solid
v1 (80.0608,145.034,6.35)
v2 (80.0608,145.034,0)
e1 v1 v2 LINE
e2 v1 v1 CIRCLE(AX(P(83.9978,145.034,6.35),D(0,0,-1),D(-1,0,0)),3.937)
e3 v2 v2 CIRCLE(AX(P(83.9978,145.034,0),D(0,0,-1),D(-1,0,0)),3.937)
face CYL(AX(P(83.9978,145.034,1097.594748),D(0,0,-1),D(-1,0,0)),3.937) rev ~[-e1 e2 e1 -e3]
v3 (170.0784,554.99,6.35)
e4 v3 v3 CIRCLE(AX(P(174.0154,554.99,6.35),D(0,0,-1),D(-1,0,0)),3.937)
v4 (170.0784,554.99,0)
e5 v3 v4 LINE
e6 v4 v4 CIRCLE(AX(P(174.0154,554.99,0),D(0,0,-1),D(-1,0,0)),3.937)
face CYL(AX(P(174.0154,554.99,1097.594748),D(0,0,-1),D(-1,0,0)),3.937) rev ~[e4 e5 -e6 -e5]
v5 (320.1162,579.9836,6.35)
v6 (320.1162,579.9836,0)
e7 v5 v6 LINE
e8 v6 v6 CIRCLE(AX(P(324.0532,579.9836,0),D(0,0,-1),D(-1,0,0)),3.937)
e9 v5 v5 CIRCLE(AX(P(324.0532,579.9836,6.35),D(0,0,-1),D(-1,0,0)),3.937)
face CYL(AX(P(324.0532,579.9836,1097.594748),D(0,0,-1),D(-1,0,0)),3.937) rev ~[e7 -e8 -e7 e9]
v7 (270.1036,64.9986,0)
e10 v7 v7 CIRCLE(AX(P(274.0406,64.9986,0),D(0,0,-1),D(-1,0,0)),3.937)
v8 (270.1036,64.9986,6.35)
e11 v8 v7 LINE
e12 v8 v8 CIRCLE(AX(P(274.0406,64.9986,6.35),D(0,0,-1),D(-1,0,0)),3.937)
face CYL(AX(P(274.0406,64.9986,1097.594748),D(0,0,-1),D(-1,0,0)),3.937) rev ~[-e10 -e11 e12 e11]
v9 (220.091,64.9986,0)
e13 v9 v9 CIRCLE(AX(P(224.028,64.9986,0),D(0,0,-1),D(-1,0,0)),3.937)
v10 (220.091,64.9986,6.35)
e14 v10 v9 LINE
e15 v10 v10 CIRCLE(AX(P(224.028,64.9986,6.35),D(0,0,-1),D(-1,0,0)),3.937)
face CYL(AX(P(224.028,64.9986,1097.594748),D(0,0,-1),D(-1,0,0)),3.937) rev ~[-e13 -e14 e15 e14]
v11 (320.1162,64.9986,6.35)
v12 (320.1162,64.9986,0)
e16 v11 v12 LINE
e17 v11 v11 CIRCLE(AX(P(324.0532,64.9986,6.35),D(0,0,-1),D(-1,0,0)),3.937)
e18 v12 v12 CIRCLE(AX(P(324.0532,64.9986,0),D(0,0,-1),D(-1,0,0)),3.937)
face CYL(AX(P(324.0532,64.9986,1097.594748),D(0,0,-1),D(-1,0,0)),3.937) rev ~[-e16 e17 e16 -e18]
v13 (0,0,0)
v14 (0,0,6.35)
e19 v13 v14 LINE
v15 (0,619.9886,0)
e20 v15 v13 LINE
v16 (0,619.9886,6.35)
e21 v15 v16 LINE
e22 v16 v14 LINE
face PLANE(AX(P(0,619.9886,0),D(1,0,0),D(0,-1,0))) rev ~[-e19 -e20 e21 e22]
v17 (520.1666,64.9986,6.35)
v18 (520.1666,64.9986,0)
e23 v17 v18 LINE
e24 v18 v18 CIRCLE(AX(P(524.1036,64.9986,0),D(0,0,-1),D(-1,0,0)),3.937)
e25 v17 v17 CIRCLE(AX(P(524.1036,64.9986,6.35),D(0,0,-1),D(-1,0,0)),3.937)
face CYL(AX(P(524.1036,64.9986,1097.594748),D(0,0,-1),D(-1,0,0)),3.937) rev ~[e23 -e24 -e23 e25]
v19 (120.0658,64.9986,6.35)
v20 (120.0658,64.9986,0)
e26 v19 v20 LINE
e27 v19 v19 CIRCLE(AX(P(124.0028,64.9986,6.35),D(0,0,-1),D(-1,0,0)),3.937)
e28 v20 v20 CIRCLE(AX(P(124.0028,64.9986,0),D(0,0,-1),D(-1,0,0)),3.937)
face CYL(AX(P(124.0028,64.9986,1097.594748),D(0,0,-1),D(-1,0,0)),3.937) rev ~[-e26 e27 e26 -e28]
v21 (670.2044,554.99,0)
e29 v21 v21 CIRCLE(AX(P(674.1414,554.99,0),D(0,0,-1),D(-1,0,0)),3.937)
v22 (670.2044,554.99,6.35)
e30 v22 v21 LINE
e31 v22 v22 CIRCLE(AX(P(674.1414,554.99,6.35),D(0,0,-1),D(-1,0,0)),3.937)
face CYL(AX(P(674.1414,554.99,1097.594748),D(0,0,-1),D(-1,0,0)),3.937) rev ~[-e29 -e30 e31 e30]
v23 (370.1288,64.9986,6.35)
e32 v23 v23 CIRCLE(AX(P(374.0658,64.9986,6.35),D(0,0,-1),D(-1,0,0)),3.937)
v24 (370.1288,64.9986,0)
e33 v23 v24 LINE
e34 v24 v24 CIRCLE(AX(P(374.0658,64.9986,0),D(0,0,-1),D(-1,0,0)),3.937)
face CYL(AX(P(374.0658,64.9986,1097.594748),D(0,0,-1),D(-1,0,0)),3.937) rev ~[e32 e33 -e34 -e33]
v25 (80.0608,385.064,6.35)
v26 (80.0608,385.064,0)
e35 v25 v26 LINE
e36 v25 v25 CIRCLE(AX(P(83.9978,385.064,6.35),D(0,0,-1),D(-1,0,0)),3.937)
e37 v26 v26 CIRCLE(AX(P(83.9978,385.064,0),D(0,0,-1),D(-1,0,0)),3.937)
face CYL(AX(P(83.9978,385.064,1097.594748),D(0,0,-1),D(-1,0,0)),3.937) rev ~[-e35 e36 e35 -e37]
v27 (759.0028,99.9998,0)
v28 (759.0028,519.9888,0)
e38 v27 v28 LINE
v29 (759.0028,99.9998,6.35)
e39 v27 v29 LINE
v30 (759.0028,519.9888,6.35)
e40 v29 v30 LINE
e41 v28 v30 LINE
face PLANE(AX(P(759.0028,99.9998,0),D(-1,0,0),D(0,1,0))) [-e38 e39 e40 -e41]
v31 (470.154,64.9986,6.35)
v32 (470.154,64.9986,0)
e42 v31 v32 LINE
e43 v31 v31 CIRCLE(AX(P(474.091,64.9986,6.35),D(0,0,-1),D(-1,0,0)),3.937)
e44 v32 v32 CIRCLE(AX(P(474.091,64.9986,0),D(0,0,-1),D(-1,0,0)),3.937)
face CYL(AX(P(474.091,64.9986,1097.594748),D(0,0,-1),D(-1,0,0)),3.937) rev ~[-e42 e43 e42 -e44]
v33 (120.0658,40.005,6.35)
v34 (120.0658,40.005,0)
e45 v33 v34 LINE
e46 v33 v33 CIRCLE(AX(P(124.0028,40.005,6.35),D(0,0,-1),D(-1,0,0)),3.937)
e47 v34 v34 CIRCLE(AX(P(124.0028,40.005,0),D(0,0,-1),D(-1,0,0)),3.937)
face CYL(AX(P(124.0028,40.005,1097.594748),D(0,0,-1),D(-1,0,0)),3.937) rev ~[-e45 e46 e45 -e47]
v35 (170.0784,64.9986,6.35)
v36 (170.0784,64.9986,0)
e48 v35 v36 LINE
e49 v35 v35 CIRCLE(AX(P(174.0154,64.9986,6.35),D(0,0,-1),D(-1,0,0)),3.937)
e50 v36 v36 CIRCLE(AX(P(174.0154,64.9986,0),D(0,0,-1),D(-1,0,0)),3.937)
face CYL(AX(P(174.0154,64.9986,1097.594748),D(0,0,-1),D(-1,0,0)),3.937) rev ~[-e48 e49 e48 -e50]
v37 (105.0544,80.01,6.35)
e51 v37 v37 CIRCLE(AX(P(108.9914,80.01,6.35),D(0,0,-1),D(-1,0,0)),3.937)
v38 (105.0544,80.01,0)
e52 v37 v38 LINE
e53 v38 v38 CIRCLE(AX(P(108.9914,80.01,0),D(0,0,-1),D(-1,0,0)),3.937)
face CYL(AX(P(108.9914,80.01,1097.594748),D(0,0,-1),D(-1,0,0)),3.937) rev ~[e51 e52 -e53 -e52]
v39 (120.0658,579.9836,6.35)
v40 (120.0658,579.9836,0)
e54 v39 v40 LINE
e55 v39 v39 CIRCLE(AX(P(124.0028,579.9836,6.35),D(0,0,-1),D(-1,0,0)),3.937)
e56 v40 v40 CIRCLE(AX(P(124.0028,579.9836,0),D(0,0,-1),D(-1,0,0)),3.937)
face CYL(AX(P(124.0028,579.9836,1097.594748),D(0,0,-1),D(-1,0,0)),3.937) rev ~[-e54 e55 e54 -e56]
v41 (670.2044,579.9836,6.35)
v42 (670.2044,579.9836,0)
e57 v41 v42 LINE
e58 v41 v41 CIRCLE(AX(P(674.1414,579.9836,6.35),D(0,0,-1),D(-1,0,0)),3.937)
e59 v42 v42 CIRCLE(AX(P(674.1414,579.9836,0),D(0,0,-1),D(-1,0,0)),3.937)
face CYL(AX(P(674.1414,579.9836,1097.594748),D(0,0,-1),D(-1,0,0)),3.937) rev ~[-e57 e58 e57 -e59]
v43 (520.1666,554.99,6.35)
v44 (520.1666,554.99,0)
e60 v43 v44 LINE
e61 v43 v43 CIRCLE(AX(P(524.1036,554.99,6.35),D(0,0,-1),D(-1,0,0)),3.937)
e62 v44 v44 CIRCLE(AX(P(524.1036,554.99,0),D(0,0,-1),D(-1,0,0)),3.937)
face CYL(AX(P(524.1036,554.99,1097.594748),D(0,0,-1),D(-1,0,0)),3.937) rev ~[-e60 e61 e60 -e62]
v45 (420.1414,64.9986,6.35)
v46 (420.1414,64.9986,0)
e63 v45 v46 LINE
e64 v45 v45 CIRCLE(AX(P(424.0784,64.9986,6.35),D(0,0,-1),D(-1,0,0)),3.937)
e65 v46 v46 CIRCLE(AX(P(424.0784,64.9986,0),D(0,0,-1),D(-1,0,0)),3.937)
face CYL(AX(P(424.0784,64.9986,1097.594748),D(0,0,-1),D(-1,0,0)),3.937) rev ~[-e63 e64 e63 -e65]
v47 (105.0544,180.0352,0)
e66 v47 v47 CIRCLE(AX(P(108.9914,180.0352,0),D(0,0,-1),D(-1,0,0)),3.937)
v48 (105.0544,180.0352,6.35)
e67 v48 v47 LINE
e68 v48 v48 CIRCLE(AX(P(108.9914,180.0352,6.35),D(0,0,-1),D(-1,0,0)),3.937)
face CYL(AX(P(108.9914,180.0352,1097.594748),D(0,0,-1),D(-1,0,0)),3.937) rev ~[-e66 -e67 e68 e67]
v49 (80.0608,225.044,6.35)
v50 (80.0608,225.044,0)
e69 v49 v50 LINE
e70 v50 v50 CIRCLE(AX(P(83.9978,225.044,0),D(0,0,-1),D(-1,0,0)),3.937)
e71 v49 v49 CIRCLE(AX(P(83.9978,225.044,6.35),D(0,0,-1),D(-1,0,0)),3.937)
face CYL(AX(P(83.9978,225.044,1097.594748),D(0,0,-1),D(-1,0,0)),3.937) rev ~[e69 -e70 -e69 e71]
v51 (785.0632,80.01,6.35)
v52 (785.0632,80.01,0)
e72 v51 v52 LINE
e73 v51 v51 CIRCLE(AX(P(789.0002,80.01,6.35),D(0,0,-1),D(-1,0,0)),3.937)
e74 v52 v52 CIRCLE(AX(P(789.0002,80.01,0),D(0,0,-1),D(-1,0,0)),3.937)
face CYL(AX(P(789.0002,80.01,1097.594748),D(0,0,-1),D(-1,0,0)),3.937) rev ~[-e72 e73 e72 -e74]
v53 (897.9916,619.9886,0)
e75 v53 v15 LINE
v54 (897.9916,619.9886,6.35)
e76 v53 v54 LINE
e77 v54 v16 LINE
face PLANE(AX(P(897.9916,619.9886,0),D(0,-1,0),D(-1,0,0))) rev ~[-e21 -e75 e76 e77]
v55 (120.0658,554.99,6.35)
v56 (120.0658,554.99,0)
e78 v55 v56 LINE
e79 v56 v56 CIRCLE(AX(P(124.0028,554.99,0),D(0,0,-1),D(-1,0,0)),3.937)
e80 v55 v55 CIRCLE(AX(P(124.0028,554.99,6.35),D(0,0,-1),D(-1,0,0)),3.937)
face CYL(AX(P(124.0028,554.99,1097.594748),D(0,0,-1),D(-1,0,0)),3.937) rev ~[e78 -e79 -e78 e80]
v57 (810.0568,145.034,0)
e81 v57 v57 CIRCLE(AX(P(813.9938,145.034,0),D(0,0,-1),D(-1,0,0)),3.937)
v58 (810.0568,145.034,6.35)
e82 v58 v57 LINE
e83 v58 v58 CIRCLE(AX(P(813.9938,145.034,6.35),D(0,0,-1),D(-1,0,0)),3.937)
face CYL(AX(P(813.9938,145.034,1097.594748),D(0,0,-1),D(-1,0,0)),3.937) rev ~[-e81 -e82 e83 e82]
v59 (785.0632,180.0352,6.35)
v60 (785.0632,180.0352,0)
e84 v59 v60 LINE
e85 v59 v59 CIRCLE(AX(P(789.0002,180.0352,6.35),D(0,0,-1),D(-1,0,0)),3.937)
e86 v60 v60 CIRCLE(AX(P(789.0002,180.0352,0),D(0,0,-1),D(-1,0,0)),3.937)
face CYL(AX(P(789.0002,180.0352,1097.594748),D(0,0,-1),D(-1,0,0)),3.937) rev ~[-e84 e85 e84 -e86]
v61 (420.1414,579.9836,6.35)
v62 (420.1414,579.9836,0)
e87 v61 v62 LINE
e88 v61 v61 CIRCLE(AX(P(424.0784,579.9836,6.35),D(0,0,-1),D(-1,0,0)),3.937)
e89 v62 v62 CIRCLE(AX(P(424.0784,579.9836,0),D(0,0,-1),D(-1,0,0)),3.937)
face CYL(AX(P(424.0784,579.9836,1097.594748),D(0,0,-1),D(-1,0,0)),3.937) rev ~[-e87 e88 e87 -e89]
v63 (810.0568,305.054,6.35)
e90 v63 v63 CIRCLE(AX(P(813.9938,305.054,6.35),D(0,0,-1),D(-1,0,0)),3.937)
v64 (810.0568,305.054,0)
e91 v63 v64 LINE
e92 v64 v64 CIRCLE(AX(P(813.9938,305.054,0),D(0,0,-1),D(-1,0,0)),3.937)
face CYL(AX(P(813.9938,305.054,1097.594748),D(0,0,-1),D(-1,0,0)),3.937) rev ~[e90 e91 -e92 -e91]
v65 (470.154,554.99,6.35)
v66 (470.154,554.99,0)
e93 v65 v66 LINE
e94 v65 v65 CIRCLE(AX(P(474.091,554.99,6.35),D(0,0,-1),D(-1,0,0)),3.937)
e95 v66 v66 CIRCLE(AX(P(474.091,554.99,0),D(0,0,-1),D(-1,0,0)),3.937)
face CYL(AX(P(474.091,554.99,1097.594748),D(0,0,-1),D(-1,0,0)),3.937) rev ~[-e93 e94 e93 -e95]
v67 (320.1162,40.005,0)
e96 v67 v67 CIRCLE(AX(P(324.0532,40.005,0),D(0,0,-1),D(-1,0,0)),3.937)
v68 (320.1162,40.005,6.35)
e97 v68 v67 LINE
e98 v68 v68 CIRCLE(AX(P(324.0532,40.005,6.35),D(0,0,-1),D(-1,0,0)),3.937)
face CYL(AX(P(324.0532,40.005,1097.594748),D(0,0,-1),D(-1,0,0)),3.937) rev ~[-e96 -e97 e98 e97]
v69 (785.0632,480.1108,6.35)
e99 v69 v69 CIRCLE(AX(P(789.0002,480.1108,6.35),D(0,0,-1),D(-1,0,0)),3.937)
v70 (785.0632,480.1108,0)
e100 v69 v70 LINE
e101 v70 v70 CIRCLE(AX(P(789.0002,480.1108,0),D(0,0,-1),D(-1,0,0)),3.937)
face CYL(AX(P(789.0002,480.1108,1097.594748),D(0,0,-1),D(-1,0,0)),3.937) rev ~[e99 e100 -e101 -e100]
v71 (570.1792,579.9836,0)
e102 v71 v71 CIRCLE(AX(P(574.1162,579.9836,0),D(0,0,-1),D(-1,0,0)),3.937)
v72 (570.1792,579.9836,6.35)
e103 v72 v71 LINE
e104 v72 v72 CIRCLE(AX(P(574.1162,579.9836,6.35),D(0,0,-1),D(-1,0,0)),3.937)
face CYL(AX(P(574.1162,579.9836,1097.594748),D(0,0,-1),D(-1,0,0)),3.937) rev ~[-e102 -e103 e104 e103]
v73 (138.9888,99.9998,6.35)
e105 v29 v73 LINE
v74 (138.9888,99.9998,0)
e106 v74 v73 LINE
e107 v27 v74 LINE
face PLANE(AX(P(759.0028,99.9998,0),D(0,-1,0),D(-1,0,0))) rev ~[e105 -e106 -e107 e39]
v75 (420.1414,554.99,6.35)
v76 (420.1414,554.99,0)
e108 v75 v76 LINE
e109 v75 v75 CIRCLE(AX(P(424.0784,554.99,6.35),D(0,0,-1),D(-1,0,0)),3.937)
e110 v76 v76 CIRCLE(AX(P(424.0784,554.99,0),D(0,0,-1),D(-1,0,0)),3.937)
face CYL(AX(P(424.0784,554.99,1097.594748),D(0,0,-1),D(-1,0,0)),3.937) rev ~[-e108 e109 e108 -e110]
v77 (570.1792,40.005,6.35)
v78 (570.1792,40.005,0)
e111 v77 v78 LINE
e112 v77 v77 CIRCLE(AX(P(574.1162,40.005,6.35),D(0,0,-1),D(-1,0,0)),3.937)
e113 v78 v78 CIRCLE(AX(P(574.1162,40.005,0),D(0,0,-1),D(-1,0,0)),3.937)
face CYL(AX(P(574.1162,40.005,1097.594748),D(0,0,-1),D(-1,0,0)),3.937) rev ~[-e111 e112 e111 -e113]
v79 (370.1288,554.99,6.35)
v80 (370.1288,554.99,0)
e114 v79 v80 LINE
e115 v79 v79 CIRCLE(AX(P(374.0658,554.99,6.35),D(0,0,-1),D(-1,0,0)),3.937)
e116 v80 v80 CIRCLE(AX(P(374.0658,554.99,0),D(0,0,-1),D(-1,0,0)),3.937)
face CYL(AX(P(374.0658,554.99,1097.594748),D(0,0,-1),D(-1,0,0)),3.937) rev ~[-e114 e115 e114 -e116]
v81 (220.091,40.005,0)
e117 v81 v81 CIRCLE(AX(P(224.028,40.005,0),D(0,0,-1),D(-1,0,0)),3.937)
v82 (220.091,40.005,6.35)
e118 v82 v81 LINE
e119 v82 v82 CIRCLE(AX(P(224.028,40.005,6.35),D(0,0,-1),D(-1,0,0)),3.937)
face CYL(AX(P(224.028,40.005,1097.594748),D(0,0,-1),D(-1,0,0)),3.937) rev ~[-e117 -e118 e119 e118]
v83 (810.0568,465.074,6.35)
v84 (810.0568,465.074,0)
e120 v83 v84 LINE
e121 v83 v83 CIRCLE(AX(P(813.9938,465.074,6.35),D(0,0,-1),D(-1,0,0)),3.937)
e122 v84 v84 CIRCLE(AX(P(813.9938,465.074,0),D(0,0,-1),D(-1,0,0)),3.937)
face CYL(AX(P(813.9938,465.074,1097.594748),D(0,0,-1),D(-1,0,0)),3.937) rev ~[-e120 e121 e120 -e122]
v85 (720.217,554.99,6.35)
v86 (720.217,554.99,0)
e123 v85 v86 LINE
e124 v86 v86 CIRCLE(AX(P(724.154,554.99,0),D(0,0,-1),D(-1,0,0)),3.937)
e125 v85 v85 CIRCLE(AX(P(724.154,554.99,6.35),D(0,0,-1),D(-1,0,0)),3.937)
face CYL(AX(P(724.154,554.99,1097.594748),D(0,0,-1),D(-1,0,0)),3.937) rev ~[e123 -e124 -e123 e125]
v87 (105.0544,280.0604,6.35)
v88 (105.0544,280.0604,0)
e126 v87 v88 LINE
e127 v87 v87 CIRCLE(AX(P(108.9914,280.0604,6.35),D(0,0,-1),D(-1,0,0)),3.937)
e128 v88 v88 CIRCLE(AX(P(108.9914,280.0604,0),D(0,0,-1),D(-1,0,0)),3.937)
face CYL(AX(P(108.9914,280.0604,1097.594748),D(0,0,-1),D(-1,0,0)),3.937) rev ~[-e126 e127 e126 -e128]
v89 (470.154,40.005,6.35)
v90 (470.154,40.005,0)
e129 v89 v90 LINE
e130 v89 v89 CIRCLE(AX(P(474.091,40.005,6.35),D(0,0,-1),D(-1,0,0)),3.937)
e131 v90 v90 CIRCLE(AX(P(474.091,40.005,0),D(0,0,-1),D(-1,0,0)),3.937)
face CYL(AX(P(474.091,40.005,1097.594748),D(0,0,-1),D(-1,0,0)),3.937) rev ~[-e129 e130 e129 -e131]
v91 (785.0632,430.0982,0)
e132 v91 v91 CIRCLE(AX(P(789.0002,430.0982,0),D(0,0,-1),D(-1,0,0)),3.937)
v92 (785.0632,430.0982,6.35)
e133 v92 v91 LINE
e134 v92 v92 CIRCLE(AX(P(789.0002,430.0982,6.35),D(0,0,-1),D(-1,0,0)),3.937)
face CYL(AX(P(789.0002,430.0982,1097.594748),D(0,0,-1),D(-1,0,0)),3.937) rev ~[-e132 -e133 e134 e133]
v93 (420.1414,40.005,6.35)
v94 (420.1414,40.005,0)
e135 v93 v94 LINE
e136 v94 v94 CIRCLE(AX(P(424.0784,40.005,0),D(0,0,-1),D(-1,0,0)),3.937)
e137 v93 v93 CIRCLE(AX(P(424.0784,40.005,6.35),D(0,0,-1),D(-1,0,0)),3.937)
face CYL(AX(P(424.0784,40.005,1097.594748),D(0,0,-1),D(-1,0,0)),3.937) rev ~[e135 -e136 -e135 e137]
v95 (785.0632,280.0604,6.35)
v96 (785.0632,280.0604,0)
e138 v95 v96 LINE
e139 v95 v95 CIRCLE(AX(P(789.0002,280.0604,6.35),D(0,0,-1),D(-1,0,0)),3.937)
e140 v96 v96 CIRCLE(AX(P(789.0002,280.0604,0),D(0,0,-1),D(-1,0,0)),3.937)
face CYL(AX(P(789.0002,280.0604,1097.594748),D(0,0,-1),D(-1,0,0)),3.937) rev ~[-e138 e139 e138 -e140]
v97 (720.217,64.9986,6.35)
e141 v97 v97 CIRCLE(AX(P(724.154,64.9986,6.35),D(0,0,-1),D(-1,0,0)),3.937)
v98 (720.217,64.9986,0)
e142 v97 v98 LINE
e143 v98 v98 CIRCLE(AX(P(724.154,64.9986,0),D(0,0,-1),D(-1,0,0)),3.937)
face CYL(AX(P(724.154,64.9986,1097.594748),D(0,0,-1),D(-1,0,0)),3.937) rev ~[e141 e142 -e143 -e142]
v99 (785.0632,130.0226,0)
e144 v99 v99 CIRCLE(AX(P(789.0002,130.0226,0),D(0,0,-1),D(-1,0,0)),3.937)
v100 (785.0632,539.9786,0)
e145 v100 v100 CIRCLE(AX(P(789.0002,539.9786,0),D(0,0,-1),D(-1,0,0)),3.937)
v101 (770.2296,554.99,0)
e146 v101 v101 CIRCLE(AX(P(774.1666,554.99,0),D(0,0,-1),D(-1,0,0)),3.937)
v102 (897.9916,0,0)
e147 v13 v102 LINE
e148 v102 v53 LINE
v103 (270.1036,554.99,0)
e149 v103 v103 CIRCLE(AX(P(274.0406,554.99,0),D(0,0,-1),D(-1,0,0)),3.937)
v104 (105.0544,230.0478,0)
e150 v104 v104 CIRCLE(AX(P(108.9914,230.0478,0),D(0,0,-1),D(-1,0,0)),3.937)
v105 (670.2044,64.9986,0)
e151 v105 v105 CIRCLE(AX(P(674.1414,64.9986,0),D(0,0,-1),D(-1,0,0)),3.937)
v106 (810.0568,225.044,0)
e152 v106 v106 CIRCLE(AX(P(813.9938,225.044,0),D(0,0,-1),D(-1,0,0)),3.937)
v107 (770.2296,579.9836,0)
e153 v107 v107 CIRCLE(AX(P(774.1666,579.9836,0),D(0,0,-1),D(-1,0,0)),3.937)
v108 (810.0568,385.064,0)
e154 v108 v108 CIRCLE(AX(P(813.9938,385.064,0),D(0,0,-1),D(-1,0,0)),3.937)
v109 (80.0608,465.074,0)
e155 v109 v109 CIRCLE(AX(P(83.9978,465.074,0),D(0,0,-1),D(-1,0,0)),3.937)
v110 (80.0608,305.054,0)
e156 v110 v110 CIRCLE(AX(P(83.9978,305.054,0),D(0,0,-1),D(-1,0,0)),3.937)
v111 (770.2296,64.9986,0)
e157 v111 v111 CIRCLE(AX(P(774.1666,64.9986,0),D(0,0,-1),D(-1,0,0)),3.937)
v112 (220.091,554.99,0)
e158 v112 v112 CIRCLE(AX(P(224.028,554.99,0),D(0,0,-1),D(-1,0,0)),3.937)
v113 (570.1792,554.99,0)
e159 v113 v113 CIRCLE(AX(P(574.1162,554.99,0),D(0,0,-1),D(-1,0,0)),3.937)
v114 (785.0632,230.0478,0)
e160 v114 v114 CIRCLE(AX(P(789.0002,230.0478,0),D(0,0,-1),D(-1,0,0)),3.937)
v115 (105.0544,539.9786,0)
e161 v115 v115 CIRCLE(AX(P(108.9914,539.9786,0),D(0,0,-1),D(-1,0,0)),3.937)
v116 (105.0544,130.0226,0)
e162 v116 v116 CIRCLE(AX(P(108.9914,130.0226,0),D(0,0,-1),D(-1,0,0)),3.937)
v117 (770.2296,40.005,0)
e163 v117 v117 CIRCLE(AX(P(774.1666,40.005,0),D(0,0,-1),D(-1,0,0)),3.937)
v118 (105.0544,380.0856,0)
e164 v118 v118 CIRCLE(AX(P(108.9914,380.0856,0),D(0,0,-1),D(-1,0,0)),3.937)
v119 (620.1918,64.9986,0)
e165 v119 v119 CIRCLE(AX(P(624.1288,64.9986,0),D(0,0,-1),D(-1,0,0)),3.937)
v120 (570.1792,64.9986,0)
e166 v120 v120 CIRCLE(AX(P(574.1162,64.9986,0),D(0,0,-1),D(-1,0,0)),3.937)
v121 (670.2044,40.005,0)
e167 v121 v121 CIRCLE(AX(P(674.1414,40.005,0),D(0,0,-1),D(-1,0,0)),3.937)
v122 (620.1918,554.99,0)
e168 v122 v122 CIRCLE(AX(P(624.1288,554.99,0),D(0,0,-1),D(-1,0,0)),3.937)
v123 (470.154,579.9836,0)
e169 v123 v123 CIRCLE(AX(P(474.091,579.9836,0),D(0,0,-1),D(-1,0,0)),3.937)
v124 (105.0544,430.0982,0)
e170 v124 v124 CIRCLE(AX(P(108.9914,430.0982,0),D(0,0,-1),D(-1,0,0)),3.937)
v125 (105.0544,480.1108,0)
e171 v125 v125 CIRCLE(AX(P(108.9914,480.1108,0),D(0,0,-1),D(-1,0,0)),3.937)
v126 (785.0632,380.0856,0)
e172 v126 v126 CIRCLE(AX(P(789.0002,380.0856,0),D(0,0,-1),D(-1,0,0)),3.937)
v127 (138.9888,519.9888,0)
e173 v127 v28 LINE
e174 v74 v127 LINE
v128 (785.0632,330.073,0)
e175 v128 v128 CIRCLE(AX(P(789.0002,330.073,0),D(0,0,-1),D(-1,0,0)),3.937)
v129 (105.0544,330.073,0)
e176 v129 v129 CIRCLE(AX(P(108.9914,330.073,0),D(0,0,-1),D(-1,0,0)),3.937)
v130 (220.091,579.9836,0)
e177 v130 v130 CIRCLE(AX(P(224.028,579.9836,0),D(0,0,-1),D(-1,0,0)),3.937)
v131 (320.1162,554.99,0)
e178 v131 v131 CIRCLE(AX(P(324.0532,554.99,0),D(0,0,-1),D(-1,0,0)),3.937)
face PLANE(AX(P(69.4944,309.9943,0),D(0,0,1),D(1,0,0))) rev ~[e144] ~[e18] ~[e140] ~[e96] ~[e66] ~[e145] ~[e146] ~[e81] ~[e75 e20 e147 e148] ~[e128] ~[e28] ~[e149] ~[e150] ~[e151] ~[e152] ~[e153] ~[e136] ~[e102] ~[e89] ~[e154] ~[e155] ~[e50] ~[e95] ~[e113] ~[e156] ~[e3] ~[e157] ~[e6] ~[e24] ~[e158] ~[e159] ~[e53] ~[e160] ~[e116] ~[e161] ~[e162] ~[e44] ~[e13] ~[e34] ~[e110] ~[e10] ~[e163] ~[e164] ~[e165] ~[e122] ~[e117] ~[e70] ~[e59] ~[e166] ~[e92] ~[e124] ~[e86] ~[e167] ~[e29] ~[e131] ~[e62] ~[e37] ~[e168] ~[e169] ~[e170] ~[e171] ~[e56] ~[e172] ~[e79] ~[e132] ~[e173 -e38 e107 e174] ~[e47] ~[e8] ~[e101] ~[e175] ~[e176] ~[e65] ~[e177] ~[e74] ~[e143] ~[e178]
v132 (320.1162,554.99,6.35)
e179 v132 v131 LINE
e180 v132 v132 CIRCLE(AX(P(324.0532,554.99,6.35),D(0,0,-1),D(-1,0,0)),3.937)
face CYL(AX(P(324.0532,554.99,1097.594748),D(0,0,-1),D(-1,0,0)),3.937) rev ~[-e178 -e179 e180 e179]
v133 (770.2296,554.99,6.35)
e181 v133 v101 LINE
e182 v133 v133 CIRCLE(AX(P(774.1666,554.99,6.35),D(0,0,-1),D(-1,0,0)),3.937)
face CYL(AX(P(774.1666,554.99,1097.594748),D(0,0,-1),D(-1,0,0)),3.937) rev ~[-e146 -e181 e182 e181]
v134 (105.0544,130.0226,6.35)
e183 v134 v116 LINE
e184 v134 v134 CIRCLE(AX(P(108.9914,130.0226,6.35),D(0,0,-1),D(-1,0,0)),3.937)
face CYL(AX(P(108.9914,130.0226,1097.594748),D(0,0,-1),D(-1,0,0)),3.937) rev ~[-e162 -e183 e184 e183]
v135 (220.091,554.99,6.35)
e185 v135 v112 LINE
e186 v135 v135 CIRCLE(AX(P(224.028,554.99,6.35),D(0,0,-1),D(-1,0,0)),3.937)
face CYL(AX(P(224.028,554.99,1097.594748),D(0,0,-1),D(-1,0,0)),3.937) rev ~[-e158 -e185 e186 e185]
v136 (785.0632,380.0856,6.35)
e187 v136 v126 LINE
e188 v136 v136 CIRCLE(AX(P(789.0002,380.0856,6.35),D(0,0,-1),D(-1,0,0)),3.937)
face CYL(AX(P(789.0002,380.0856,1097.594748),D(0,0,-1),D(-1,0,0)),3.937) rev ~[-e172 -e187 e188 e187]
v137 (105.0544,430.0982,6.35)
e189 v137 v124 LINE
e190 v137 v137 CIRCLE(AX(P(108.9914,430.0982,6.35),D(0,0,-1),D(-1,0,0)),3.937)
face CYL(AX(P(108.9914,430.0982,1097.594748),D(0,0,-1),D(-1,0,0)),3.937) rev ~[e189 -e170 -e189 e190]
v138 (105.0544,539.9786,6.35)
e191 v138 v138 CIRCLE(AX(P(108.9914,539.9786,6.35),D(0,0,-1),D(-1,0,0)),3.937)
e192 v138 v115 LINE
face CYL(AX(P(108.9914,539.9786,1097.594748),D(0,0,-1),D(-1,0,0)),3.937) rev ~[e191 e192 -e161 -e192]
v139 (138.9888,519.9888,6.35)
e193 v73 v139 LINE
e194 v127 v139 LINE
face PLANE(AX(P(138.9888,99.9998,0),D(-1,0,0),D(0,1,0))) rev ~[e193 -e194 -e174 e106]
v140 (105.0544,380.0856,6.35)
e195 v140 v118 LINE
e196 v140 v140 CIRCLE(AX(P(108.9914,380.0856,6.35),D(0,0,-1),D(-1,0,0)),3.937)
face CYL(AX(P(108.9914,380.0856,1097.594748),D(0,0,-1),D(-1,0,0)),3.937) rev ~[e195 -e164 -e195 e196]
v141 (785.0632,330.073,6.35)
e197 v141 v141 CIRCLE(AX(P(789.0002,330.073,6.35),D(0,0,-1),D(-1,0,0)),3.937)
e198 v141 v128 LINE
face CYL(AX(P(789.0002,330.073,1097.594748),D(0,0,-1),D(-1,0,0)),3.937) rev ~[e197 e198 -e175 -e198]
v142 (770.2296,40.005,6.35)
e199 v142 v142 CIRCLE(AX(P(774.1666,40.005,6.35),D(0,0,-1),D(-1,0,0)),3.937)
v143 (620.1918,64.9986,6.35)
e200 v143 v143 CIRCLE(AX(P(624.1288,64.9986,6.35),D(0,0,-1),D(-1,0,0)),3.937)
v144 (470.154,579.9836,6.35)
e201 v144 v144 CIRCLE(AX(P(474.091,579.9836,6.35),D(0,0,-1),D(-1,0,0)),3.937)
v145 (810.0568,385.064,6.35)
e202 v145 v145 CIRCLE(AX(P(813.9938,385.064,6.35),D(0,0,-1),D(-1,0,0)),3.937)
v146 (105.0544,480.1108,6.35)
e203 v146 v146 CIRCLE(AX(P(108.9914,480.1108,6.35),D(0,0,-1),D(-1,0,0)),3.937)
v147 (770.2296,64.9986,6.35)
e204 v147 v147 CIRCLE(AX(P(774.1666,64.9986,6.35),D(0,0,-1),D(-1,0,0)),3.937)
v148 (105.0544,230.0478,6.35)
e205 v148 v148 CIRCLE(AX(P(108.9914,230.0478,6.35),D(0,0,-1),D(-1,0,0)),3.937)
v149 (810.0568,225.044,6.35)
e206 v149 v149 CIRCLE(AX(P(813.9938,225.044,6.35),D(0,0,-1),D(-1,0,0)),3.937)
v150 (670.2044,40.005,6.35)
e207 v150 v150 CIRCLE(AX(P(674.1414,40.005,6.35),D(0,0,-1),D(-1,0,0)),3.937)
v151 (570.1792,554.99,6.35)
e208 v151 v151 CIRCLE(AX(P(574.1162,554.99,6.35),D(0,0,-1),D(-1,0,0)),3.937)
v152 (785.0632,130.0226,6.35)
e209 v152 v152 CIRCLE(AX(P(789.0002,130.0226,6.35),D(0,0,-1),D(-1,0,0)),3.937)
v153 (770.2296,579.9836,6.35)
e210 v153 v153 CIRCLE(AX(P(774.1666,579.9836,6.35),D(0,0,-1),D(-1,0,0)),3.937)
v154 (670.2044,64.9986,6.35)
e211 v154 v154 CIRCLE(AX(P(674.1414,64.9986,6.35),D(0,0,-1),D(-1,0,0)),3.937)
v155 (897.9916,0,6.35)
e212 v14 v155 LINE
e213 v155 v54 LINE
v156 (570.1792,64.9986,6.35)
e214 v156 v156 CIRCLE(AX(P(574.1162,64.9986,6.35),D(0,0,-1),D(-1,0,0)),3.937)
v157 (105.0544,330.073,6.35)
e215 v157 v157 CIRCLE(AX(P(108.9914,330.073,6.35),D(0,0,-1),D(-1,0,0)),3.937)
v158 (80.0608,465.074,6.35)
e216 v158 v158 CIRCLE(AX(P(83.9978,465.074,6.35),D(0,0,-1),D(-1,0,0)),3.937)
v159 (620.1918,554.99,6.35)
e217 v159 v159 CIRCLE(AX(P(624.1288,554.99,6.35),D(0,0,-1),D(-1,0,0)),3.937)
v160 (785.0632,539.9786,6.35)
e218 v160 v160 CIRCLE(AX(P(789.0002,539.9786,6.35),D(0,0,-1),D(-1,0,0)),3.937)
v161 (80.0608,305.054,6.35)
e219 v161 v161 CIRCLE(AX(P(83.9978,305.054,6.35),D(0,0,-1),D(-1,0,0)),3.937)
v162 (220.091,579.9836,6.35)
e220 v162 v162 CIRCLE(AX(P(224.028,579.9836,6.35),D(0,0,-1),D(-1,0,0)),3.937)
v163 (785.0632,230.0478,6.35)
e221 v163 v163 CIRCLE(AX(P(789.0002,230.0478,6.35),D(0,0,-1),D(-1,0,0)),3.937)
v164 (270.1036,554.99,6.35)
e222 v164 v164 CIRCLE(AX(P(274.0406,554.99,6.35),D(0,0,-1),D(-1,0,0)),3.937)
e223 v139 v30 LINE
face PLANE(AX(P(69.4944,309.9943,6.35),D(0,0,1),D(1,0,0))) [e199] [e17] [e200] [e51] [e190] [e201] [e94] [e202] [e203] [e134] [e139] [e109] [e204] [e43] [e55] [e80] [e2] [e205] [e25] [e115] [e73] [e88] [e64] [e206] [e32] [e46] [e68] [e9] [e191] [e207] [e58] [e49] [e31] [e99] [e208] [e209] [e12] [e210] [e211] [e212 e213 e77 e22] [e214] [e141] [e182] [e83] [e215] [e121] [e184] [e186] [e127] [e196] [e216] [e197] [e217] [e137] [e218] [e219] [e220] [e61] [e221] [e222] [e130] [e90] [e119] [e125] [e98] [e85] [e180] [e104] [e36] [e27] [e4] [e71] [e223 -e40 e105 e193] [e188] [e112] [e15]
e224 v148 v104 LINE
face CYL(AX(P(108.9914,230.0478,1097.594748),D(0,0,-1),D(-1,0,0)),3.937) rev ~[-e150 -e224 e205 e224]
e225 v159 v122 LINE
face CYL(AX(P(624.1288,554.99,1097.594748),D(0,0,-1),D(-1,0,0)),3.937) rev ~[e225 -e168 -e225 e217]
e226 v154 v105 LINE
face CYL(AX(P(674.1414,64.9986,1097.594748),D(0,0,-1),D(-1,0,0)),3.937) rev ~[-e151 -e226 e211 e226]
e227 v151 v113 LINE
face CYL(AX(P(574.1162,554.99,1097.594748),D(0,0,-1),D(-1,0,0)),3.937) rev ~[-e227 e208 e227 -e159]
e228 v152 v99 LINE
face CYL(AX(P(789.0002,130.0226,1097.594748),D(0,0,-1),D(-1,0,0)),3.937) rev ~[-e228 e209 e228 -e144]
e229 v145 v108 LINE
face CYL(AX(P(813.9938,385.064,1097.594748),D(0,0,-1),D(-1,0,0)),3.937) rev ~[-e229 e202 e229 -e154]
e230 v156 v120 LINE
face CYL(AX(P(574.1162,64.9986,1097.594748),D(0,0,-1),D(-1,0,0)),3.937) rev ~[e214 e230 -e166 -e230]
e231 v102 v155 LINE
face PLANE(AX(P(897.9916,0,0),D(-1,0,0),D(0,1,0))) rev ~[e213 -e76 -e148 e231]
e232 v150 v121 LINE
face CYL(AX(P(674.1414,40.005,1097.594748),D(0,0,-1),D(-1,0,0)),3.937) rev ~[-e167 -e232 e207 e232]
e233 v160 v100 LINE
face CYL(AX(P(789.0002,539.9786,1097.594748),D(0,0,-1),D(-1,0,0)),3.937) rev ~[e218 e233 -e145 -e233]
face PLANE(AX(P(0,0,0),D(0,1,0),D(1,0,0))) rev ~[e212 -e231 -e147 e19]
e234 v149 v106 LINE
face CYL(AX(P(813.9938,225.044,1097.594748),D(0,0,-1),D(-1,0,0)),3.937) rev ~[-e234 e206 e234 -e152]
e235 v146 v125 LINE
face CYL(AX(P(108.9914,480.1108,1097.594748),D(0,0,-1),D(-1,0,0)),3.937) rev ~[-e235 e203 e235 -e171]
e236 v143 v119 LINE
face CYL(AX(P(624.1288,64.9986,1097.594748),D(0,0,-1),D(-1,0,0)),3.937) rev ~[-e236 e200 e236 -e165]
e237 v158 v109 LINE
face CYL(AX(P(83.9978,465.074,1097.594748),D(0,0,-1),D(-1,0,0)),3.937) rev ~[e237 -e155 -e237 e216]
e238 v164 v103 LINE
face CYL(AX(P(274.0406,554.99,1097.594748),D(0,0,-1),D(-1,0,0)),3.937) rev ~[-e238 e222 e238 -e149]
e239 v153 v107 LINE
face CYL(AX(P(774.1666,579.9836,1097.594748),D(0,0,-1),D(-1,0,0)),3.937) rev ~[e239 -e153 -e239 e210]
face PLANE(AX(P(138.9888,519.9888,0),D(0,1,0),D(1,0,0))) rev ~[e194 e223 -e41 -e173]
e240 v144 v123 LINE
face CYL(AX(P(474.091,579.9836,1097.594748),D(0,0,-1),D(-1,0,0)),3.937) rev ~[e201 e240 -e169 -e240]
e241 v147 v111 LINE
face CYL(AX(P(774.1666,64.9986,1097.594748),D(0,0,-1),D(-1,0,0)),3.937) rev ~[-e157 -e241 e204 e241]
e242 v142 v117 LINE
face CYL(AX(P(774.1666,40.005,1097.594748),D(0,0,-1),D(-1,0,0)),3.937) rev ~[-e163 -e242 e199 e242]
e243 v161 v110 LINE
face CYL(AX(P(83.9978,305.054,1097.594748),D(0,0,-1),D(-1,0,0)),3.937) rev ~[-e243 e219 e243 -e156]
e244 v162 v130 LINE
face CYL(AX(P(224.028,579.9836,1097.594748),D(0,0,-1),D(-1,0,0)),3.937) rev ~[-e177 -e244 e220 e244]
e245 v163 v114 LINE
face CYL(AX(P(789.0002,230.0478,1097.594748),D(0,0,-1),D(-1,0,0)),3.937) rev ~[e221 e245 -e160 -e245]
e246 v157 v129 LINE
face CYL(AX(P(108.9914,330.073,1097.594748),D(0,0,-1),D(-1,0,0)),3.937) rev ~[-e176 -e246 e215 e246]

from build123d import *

# Parameters (mm, degrees)
F0_W     = 138.9888
F0_H     = 419.989
F1_DEPTH = 6.35
F3_D     = 7.874


with BuildPart() as f1:
    # F0 (on Top) → F1 (new body)
    with BuildSketch(Plane.XY):
        with Locations((69.4944, 309.9943)):
            Rectangle(F0_W, F0_H)
        Polygon((0, 619.9886), (0, 519.9888), (138.9888, 519.9888), (759.0028, 519.9888), (897.9916, 519.9888), (897.9916, 619.9886), align=None)
        with Locations((828.4972, 309.9943)):
            Rectangle(F0_W, F0_H)
        Polygon((0, 99.9998), (0, 0), (897.9916, 0), (897.9916, 99.9998), (759.0028, 99.9998), (138.9888, 99.9998), align=None)
    extrude(amount=F1_DEPTH)

    # F3 (through all)
    with Locations(Plane.XY.offset(6.35)):
        with Locations((108.9914, 539.9786), (124.0028, 554.99), (174.0154, 554.99), (124.0028, 579.9836), (224.028, 579.9836), (224.028, 554.99), (274.0406, 554.99), (324.0532, 579.9836), (324.0532, 554.99), (374.0658, 554.99), (424.0784, 579.9836), (424.0784, 554.99), (474.091, 579.9836), (474.091, 554.99), (524.1036, 554.99), (574.1162, 579.9836), (574.1162, 554.99), (624.1288, 554.99), (674.1414, 579.9836), (674.1414, 554.99), (789.0002, 539.9786), (774.1666, 579.9836), (774.1666, 554.99), (724.154, 554.99), (789.0002, 480.1108), (813.9938, 465.074), (789.0002, 130.0226), (813.9938, 145.034), (789.0002, 180.0352), (789.0002, 230.0478), (813.9938, 225.044), (789.0002, 280.0604), (813.9938, 305.054), (789.0002, 330.073), (789.0002, 380.0856), (813.9938, 385.064), (789.0002, 430.0982), (789.0002, 80.01), (774.1666, 64.9986), (774.1666, 40.005), (724.154, 64.9986), (674.1414, 64.9986), (674.1414, 40.005), (83.9978, 465.074), (108.9914, 480.1108), (108.9914, 430.0982), (83.9978, 385.064), (108.9914, 380.0856), (108.9914, 330.073), (83.9978, 305.054), (108.9914, 280.0604), (83.9978, 225.044), (108.9914, 230.0478), (108.9914, 180.0352), (83.9978, 145.034), (108.9914, 130.0226), (108.9914, 80.01), (124.0028, 64.9986), (124.0028, 40.005), (174.0154, 64.9986), (224.028, 40.005), (224.028, 64.9986), (274.0406, 64.9986), (324.0532, 40.005), (324.0532, 64.9986), (374.0658, 64.9986), (424.0784, 64.9986), (424.0784, 40.005), (474.091, 64.9986), (474.091, 40.005), (524.1036, 64.9986), (574.1162, 64.9986), (624.1288, 64.9986), (574.1162, 40.005)):
            Hole(F3_D / 2)


solid = f1.part
